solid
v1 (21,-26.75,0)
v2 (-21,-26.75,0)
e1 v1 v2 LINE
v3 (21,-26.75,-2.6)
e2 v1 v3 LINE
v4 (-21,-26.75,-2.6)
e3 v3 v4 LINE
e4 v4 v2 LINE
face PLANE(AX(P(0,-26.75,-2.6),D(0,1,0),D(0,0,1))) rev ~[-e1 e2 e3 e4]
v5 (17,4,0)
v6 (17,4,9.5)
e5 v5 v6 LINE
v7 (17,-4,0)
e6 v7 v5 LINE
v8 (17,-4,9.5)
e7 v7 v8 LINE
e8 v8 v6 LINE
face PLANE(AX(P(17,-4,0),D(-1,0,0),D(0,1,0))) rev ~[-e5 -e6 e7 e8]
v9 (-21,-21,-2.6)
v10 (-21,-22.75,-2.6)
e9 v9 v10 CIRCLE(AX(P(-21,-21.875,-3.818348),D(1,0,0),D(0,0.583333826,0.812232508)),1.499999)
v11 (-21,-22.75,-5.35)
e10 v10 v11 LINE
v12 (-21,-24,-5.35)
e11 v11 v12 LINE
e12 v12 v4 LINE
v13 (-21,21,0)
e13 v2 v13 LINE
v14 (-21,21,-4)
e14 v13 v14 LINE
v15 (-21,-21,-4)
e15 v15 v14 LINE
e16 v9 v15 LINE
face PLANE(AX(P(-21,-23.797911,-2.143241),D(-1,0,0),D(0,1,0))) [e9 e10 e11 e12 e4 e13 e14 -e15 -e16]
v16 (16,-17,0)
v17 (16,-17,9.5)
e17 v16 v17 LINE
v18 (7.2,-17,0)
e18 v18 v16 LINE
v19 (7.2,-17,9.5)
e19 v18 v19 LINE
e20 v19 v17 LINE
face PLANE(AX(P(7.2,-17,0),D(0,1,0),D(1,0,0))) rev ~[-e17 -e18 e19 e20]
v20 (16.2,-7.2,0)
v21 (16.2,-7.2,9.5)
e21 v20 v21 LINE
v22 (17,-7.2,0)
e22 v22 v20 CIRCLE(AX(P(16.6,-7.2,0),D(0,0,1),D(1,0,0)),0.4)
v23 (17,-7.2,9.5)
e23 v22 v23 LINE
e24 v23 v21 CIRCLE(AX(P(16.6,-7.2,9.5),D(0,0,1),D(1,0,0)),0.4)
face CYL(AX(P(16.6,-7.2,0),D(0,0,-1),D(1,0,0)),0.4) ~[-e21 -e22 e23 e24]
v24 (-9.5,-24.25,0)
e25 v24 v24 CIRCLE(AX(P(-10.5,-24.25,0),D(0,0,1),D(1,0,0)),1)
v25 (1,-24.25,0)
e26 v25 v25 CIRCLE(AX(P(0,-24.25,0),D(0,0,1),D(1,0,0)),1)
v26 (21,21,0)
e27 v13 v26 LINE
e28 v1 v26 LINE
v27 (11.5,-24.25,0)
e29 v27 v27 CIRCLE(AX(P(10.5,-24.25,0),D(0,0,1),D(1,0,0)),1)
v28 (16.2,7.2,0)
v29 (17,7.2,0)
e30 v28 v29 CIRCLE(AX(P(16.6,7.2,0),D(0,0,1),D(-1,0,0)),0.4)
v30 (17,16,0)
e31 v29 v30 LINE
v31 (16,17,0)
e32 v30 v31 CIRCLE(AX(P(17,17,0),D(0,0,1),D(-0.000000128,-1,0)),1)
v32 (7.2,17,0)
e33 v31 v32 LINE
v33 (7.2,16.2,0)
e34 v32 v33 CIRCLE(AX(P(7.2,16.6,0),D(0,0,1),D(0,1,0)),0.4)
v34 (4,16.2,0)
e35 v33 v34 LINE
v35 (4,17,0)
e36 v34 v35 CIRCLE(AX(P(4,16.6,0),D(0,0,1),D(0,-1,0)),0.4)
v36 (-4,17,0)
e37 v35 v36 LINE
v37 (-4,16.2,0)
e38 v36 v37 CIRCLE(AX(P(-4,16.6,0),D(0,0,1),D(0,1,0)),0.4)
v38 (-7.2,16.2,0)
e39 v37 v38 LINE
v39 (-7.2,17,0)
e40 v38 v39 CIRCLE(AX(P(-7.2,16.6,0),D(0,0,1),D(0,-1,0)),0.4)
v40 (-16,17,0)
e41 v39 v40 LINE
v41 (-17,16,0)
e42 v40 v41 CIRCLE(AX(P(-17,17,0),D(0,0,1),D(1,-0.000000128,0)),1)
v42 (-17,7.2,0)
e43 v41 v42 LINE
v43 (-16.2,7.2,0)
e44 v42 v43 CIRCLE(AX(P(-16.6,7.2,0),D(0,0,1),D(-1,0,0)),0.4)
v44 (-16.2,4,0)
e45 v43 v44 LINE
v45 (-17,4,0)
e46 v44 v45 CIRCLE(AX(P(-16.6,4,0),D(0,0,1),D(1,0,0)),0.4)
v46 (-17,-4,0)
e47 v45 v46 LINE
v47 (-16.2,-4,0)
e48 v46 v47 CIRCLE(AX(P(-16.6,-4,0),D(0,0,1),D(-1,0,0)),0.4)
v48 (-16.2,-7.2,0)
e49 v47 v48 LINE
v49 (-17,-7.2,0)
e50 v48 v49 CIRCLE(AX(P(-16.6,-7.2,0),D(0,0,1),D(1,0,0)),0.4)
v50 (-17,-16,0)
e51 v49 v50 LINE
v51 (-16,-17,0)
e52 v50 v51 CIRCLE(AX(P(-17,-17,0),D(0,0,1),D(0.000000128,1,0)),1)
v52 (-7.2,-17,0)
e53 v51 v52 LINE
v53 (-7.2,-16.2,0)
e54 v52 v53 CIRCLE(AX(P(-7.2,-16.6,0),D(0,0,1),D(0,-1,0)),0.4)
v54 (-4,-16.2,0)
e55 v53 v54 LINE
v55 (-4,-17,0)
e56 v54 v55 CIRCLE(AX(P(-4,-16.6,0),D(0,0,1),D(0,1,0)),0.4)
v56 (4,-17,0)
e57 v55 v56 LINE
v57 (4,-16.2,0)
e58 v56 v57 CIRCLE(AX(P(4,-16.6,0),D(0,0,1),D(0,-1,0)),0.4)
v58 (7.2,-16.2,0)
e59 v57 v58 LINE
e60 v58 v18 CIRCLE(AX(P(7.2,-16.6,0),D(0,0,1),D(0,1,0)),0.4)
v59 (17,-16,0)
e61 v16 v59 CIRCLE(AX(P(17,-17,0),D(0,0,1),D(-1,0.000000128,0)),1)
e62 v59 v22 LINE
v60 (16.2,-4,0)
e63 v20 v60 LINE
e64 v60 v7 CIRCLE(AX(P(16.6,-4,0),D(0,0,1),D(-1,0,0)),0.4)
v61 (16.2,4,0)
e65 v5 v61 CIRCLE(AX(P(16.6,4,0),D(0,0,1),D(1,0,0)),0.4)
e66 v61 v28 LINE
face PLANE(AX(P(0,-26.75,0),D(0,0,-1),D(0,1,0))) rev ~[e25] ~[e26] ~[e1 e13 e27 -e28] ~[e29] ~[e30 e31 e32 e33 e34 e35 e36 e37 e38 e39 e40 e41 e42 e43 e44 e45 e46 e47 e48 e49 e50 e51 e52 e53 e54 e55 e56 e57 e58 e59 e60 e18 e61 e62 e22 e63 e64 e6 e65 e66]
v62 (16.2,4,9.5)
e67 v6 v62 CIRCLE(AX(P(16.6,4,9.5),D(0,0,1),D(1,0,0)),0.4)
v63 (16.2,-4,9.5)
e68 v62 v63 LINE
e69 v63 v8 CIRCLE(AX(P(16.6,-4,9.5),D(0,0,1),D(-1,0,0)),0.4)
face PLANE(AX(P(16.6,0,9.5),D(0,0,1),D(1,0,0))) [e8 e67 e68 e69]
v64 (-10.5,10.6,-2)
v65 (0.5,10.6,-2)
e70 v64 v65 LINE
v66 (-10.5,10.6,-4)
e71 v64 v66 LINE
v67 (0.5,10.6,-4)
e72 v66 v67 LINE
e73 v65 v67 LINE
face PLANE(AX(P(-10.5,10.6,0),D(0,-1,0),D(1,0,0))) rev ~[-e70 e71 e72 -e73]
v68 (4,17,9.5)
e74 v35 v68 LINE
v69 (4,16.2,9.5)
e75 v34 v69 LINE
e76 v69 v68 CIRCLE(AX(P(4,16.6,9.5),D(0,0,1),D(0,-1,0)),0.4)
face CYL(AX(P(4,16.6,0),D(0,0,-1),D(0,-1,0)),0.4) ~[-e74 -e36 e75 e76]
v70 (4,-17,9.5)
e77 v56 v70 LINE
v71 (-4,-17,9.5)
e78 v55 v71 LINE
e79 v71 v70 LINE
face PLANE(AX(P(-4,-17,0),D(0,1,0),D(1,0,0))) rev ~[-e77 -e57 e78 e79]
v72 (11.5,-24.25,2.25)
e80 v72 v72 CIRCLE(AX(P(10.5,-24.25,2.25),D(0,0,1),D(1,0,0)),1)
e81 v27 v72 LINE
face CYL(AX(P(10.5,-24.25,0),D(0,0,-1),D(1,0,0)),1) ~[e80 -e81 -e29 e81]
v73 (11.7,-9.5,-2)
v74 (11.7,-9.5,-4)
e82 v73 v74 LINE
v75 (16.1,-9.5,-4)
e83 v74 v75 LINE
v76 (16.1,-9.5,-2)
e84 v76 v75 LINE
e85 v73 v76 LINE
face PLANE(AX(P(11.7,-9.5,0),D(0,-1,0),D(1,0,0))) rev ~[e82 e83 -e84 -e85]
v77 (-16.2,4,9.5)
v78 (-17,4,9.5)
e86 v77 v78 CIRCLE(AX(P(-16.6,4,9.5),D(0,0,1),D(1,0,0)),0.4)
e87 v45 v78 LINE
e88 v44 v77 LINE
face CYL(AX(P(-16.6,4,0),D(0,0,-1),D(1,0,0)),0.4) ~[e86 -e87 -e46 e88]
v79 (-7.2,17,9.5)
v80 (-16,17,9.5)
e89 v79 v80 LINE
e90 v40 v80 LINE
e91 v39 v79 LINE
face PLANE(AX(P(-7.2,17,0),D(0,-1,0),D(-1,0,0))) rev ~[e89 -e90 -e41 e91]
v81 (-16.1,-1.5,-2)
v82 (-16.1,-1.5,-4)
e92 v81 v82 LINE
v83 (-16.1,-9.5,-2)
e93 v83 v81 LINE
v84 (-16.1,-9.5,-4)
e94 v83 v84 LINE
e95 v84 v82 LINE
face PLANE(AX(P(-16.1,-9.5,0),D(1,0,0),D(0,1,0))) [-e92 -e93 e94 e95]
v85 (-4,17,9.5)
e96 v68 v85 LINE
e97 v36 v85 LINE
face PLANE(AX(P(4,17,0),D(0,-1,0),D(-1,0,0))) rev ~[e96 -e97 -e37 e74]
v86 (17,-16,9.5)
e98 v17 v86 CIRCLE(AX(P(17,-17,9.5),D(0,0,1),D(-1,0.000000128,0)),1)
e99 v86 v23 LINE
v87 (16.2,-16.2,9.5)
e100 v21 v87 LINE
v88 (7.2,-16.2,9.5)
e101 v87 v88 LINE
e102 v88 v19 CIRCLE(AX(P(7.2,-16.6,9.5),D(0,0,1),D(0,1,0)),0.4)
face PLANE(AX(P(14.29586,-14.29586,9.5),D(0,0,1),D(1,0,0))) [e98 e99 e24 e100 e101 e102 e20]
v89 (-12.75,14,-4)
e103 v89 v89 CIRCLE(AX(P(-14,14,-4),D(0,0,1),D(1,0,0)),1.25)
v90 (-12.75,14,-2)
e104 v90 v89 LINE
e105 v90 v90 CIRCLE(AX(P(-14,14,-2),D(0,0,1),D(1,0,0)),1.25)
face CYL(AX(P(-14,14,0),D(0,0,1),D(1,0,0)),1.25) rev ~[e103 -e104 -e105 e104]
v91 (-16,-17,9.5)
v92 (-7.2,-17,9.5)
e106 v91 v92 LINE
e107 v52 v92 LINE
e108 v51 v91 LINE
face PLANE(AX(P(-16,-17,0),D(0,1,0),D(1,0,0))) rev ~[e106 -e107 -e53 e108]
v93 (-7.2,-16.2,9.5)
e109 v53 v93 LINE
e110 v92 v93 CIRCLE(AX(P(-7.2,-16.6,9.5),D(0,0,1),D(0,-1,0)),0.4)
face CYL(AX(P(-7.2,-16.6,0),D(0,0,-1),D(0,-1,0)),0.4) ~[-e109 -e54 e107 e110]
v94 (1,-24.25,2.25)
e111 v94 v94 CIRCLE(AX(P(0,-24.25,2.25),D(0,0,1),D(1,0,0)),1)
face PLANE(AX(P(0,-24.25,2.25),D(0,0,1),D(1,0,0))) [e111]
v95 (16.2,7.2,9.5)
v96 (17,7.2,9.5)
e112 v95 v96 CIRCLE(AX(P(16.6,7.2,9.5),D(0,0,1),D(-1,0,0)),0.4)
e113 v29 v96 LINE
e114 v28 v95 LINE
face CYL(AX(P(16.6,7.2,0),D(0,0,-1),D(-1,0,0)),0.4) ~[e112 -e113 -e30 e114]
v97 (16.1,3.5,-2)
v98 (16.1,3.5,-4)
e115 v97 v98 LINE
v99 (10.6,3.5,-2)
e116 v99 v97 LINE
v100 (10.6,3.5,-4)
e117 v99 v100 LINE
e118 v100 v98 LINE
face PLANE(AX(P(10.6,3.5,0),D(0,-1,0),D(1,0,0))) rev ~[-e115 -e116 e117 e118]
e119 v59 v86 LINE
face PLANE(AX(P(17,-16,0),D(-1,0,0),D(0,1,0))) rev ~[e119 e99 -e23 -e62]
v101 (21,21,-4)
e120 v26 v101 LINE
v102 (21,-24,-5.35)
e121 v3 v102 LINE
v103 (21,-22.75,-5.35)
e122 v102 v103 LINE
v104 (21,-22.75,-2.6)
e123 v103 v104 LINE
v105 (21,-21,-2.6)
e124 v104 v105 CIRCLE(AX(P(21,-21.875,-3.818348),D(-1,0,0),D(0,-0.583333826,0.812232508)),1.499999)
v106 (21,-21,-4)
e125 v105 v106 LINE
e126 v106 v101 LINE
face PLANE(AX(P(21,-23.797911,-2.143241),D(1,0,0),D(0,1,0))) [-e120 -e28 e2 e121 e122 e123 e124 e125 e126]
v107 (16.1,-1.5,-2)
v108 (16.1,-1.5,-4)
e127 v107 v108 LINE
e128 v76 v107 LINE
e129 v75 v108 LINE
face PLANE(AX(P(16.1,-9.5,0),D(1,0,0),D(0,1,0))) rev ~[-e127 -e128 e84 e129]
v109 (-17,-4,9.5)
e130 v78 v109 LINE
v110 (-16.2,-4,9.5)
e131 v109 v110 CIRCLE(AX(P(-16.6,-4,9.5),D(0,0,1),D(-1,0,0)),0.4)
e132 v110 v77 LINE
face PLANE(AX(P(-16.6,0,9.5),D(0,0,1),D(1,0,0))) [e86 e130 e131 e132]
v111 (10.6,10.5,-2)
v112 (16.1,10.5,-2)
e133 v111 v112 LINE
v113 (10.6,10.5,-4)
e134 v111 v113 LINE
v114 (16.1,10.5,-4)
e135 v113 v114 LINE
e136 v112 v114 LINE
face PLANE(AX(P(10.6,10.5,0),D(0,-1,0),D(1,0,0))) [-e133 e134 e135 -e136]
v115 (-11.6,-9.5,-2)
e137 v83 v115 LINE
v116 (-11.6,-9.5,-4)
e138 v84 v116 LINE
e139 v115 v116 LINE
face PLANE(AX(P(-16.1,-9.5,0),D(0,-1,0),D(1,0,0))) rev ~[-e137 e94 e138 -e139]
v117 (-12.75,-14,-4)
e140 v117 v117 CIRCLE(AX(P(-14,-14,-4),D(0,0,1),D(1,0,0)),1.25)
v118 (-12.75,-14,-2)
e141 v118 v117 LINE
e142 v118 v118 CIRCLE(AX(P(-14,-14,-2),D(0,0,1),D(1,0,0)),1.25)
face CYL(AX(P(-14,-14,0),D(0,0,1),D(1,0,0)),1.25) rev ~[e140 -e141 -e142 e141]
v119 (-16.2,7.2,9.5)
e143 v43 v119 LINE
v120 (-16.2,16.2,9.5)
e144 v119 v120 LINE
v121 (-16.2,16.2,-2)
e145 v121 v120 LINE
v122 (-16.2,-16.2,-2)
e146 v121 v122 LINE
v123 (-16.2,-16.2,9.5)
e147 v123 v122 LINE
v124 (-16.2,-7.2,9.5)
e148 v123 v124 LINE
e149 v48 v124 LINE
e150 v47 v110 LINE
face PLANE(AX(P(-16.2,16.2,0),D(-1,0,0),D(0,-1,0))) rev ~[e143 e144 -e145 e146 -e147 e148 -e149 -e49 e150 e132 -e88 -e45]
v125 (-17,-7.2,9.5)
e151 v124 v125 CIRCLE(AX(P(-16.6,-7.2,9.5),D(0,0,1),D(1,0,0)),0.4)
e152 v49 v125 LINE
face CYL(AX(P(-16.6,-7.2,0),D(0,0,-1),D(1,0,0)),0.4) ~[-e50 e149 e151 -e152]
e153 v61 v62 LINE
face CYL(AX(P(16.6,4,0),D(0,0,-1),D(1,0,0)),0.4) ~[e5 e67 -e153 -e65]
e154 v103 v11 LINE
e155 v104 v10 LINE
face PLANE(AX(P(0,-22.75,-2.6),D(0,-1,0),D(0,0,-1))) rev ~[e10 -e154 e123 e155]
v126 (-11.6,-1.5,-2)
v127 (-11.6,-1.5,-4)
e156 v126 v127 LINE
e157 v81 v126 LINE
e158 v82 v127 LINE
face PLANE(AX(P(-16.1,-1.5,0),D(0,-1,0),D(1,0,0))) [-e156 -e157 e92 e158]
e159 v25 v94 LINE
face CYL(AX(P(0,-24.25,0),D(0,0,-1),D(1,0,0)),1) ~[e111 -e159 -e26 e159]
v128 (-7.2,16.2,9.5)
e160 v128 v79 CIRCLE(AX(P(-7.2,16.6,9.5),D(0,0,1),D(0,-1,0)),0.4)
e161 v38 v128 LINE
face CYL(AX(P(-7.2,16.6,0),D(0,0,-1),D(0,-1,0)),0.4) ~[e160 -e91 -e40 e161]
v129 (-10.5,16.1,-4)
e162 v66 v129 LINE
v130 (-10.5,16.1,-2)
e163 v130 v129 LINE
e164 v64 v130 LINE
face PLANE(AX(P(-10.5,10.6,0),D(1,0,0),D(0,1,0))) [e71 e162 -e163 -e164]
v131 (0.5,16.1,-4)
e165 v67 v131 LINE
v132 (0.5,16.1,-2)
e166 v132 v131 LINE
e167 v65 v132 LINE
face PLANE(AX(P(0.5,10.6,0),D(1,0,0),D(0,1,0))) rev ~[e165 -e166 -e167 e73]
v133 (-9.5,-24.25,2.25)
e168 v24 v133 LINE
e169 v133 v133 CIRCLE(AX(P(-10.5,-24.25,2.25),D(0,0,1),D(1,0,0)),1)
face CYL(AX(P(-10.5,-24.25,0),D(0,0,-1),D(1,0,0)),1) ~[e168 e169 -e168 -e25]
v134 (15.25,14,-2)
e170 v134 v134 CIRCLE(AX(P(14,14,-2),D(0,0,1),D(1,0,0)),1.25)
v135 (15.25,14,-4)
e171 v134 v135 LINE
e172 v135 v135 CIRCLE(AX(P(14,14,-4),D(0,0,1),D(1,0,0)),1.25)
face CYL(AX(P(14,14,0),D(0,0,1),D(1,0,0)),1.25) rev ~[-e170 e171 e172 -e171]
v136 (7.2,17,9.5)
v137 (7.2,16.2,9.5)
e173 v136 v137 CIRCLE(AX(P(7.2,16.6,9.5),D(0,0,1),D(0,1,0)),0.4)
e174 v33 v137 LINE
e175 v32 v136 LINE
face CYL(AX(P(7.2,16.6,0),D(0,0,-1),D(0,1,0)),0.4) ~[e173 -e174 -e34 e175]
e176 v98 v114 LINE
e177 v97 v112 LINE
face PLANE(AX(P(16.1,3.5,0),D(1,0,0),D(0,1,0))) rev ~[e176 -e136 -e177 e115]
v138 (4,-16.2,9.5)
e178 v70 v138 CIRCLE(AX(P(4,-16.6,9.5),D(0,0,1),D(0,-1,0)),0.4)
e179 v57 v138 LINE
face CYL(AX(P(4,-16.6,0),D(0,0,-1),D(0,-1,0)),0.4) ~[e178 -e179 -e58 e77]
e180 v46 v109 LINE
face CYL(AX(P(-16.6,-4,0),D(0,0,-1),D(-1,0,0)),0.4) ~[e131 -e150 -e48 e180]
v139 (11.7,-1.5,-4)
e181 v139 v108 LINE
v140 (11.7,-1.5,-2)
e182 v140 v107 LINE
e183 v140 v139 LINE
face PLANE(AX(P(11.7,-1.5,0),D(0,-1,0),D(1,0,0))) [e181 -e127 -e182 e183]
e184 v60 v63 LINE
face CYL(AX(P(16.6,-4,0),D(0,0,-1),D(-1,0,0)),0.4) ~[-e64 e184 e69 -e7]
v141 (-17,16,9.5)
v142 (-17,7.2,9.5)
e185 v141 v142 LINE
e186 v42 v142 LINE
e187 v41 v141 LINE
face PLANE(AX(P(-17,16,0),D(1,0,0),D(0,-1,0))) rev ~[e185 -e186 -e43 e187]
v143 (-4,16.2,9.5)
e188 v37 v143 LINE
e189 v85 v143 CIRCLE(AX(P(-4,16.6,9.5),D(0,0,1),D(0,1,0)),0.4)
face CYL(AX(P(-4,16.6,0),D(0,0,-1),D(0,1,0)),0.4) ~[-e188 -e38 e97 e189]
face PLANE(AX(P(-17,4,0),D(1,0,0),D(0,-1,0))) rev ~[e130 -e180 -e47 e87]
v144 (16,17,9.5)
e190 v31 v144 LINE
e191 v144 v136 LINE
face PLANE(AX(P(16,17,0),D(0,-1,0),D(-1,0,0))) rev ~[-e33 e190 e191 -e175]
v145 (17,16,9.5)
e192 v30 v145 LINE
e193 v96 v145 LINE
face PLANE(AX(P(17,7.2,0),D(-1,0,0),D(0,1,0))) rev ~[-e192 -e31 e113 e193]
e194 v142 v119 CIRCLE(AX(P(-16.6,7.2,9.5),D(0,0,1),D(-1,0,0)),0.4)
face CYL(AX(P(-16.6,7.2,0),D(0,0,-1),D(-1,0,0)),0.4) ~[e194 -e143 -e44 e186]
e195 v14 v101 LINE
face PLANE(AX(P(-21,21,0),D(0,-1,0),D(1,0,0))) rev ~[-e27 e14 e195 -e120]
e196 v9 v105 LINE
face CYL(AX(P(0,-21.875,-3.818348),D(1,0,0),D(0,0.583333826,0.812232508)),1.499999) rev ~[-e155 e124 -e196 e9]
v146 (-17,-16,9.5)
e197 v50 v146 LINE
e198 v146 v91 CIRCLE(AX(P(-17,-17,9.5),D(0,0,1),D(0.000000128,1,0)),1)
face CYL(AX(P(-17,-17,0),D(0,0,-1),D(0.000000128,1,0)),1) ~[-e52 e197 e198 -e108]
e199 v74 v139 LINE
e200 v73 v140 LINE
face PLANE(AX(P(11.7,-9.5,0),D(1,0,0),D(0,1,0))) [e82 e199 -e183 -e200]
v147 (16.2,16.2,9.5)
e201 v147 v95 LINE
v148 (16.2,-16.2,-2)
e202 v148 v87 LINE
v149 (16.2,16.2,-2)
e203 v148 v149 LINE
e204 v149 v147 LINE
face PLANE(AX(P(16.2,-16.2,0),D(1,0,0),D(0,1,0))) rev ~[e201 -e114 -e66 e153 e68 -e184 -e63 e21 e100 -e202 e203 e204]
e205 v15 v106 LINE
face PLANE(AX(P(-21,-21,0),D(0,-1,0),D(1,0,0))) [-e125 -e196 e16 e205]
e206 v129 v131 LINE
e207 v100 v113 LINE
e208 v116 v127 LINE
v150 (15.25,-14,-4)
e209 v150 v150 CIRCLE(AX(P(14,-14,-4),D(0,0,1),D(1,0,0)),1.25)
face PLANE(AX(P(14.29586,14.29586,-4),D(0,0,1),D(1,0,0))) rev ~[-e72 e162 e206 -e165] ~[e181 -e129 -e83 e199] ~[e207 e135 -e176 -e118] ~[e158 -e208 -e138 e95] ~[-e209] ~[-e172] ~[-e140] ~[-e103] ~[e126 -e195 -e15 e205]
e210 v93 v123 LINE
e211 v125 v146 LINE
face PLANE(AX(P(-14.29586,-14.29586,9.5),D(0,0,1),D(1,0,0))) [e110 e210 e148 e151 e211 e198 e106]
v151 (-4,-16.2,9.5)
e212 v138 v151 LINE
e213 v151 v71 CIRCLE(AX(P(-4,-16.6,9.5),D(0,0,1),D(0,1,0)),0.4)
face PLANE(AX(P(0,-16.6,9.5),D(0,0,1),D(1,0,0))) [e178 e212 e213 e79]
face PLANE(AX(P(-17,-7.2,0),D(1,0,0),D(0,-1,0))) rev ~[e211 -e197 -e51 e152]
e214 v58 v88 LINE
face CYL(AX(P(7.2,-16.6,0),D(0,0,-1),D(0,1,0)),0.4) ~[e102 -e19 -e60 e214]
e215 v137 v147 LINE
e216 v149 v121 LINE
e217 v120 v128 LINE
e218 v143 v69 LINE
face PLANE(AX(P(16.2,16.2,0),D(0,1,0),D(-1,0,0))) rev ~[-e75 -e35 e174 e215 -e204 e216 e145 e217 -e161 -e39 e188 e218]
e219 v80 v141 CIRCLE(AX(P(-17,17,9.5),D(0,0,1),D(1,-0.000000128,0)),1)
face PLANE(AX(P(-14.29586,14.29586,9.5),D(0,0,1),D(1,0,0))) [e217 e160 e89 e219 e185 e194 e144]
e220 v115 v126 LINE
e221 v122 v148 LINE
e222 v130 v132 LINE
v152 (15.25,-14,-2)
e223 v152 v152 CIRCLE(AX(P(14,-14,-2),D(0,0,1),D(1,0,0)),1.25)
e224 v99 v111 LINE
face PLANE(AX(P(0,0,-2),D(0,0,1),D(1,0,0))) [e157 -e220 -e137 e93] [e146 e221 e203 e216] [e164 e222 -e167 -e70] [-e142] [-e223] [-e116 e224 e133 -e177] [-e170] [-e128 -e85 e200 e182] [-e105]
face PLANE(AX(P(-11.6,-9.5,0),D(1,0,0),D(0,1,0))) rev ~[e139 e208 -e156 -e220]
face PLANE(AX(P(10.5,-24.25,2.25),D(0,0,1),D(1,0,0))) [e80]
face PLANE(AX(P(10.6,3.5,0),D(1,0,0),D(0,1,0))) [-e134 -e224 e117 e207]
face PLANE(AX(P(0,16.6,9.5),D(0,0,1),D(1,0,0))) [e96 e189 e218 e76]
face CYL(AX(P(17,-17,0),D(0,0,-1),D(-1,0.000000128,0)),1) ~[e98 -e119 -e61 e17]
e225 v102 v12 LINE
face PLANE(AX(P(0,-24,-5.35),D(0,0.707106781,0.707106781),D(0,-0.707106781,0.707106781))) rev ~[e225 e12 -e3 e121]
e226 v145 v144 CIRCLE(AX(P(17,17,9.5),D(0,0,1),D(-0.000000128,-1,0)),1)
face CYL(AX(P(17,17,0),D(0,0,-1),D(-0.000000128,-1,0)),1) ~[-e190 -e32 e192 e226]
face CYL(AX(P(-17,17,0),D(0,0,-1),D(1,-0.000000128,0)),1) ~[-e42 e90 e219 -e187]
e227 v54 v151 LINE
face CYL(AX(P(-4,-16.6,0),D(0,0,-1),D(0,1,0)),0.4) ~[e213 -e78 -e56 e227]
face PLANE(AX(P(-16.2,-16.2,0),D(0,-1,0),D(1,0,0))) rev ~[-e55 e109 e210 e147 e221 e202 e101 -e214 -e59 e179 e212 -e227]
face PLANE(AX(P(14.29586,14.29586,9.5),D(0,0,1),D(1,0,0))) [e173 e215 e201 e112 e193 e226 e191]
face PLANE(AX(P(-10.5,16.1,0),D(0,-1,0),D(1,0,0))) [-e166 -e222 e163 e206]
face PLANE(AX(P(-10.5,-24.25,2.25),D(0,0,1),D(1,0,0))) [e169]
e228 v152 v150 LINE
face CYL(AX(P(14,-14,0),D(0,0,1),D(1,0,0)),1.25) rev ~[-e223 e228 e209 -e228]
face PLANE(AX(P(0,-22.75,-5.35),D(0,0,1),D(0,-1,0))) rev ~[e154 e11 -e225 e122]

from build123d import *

# Parameters (mm, degrees)
F0_W     = 42
F0_H     = 42
F0_R     = 1.25
F0_W_2   = 4.5
F0_H_2   = 8
F0_W_3   = 4.4
F0_W_4   = 11
F0_H_3   = 5.5
F0_W_5   = 5.5
F0_H_4   = 7
F2_DEPTH = 4
F3_DEPTH = 21
F4_DEPTH = 21
F5_DEPTH = 9.5
F6_R     = 1
F7_DEPTH = 2.25
F8_DEPTH = 2


with BuildPart() as f2:
    # F0 (on Top) → F2 (new body)
    with BuildSketch(Plane.XY):
        Rectangle(F0_W, F0_H)
        with BuildLine():
            ThreePointArc((16.2, 4), (16.6, 4.4), (17, 4))
            Line((17, 4), (17, -4))
            ThreePointArc((17, -4), (16.6, -4.4), (16.2, -4))
            Line((16.2, -4), (16.2, -7.2))
            ThreePointArc((16.2, -7.2), (16.6, -6.8), (17, -7.2))
            Line((17, -7.2), (17, -16))
            ThreePointArc((17, -16), (17.707107, -17.707107), (16, -17))
            Line((16, -17), (7.2, -17))
            ThreePointArc((7.2, -17), (6.8, -16.6), (7.2, -16.2))
            Line((7.2, -16.2), (4, -16.2))
            ThreePointArc((4, -16.2), (4.4, -16.6), (4, -17))
            Line((4, -17), (-4, -17))
            ThreePointArc((-4, -17), (-4.4, -16.6), (-4, -16.2))
            Line((-4, -16.2), (-7.2, -16.2))
            ThreePointArc((-7.2, -16.2), (-6.8, -16.6), (-7.2, -17))
            Line((-7.2, -17), (-16, -17))
            ThreePointArc((-16, -17), (-17.707107, -17.707107), (-17, -16))
            Line((-17, -16), (-17, -7.2))
            ThreePointArc((-17, -7.2), (-16.6, -6.8), (-16.2, -7.2))
            Line((-16.2, -7.2), (-16.2, -4))
            ThreePointArc((-16.2, -4), (-16.6, -4.4), (-17, -4))
            Line((-17, -4), (-17, 4))
            ThreePointArc((-17, 4), (-16.6, 4.4), (-16.2, 4))
            Line((-16.2, 4), (-16.2, 7.2))
            ThreePointArc((-16.2, 7.2), (-16.6, 6.8), (-17, 7.2))
            Line((-17, 7.2), (-17, 16))
            ThreePointArc((-17, 16), (-17.707107, 17.707107), (-16, 17))
            Line((-16, 17), (-7.2, 17))
            ThreePointArc((-7.2, 17), (-6.8, 16.6), (-7.2, 16.2))
            Line((-7.2, 16.2), (-4, 16.2))
            ThreePointArc((-4, 16.2), (-4.4, 16.6), (-4, 17))
            Line((-4, 17), (4, 17))
            ThreePointArc((4, 17), (4.4, 16.6), (4, 16.2))
            Line((4, 16.2), (7.2, 16.2))
            ThreePointArc((7.2, 16.2), (6.8, 16.6), (7.2, 17))
            Line((7.2, 17), (16, 17))
            ThreePointArc((16, 17), (17.707107, 17.707107), (17, 16))
            Line((17, 16), (17, 7.2))
            ThreePointArc((17, 7.2), (16.6, 6.8), (16.2, 7.2))
            Line((16.2, 7.2), (16.2, 4))
        make_face(mode=Mode.SUBTRACT)
        with BuildLine():
            Line((-4, 16.2), (4, 16.2))
            ThreePointArc((4, 16.2), (4.4, 16.6), (4, 17))
            Line((4, 17), (-4, 17))
            ThreePointArc((-4, 17), (-4.4, 16.6), (-4, 16.2))
        make_face()
        with BuildLine():
            Line((16.2, 16.2), (16.2, 7.2))
            ThreePointArc((16.2, 7.2), (16.6, 6.8), (17, 7.2))
            Line((17, 7.2), (17, 16))
            ThreePointArc((17, 16), (17.707107, 17.707107), (16, 17))
            Line((16, 17), (7.2, 17))
            ThreePointArc((7.2, 17), (6.8, 16.6), (7.2, 16.2))
            Line((7.2, 16.2), (16.2, 16.2))
        make_face()
        with BuildLine():
            Line((-16.2, 16.2), (-7.2, 16.2))
            ThreePointArc((-7.2, 16.2), (-6.8, 16.6), (-7.2, 17))
            Line((-7.2, 17), (-16, 17))
            ThreePointArc((-16, 17), (-17.707107, 17.707107), (-17, 16))
            Line((-17, 16), (-17, 7.2))
            ThreePointArc((-17, 7.2), (-16.6, 6.8), (-16.2, 7.2))
            Line((-16.2, 7.2), (-16.2, 16.2))
        make_face()
        with BuildLine():
            Line((-16.2, -4), (-16.2, 4))
            ThreePointArc((-16.2, 4), (-16.6, 4.4), (-17, 4))
            Line((-17, 4), (-17, -4))
            ThreePointArc((-17, -4), (-16.6, -4.4), (-16.2, -4))
        make_face()
        with BuildLine():
            Line((17, -4), (17, 4))
            ThreePointArc((17, 4), (16.6, 4.4), (16.2, 4))
            Line((16.2, 4), (16.2, -4))
            ThreePointArc((16.2, -4), (16.6, -4.4), (17, -4))
        make_face()
        with BuildLine():
            ThreePointArc((17, -7.2), (16.6, -6.8), (16.2, -7.2))
            Line((16.2, -7.2), (16.2, -16.2))
            Line((16.2, -16.2), (7.2, -16.2))
            ThreePointArc((7.2, -16.2), (6.8, -16.6), (7.2, -17))
            Line((7.2, -17), (16, -17))
            ThreePointArc((16, -17), (17.707107, -17.707107), (17, -16))
            Line((17, -16), (17, -7.2))
        make_face()
        with BuildLine():
            ThreePointArc((-7.2, -17), (-6.8, -16.6), (-7.2, -16.2))
            Line((-7.2, -16.2), (-16.2, -16.2))
            Line((-16.2, -16.2), (-16.2, -7.2))
            ThreePointArc((-16.2, -7.2), (-16.6, -6.8), (-17, -7.2))
            Line((-17, -7.2), (-17, -16))
            ThreePointArc((-17, -16), (-17.707107, -17.707107), (-16, -17))
            Line((-16, -17), (-7.2, -17))
        make_face()
        with BuildLine():
            ThreePointArc((4, -17), (4.4, -16.6), (4, -16.2))
            Line((4, -16.2), (-4, -16.2))
            ThreePointArc((-4, -16.2), (-4.4, -16.6), (-4, -17))
            Line((-4, -17), (4, -17))
        make_face()
        Polygon((16.2, -4), (16.2, 4), (16.2, 7.2), (16.2, 16.2), (7.2, 16.2), (4, 16.2), (-4, 16.2), (-7.2, 16.2), (-16.2, 16.2), (-16.2, 7.2), (-16.2, 4), (-16.2, -4), (-16.2, -7.2), (-16.2, -16.2), (-7.2, -16.2), (-4, -16.2), (4, -16.2), (7.2, -16.2), (16.2, -16.2), (16.2, -7.2), align=None)
        with Locations((-14, -14)):
            Circle(F0_R, mode=Mode.SUBTRACT)
        with Locations((-13.85, -5.5)):
            Rectangle(F0_W_2, F0_H_2, mode=Mode.SUBTRACT)
        with Locations((14, -14)):
            Circle(F0_R, mode=Mode.SUBTRACT)
        with Locations((13.9, -5.5)):
            Rectangle(F0_W_3, F0_H_2, mode=Mode.SUBTRACT)
        with Locations((-14, 14)):
            Circle(F0_R, mode=Mode.SUBTRACT)
        with Locations((-5, 13.35)):
            Rectangle(F0_W_4, F0_H_3, mode=Mode.SUBTRACT)
        with Locations((13.35, 7)):
            Rectangle(F0_W_5, F0_H_4, mode=Mode.SUBTRACT)
        with Locations((14, 14)):
            Circle(F0_R, mode=Mode.SUBTRACT)
    extrude(amount=-F2_DEPTH)

    # F1 (on Right) → F3 (join)
    with BuildSketch(Plane.YZ):
        with BuildLine():
            Line((-21, -2.6), (-21, 0))
            Line((-21, 0), (-22.75, 0))
            Line((-22.75, 0), (-26.75, 0))
            Line((-26.75, 0), (-26.75, -2.6))
            Line((-26.75, -2.6), (-24, -5.35))
            Line((-24, -5.35), (-22.75, -5.35))
            Line((-22.75, -5.35), (-22.75, -2.6))
            ThreePointArc((-22.75, -2.6), (-21.875, -2.318349), (-21, -2.6))
        make_face()
    extrude(amount=F3_DEPTH)

    # F3_face (on face) → F4 (join)
    with BuildSketch(Plane(origin=(0, -24.007396, -2.086833), x_dir=(0, 1, 0), z_dir=(-1, 0, 0))):
        with BuildLine():
            Line((3.007396, -2.086833), (3.007396, 0.513167))
            ThreePointArc((3.007396, 0.513167), (2.132396, 0.231516), (1.257396, 0.513167))
            Line((1.257396, 0.513167), (1.257396, 3.263167))
            Line((1.257396, 3.263167), (0.007396, 3.263167))
            Line((0.007396, 3.263167), (-2.742604, 0.513167))
            Line((-2.742604, 0.513167), (-2.742604, -2.086833))
            Line((-2.742604, -2.086833), (3.007396, -2.086833))
        make_face()
    extrude(amount=F4_DEPTH)

    # F0 (on Top) → F5 (join)
    with BuildSketch(Plane.XY):
        with BuildLine():
            Line((-16.2, 16.2), (-7.2, 16.2))
            ThreePointArc((-7.2, 16.2), (-6.8, 16.6), (-7.2, 17))
            Line((-7.2, 17), (-16, 17))
            ThreePointArc((-16, 17), (-17.707107, 17.707107), (-17, 16))
            Line((-17, 16), (-17, 7.2))
            ThreePointArc((-17, 7.2), (-16.6, 6.8), (-16.2, 7.2))
            Line((-16.2, 7.2), (-16.2, 16.2))
        make_face()
        with BuildLine():
            Line((-16.2, -4), (-16.2, 4))
            ThreePointArc((-16.2, 4), (-16.6, 4.4), (-17, 4))
            Line((-17, 4), (-17, -4))
            ThreePointArc((-17, -4), (-16.6, -4.4), (-16.2, -4))
        make_face()
        with BuildLine():
            ThreePointArc((-7.2, -17), (-6.8, -16.6), (-7.2, -16.2))
            Line((-7.2, -16.2), (-16.2, -16.2))
            Line((-16.2, -16.2), (-16.2, -7.2))
            ThreePointArc((-16.2, -7.2), (-16.6, -6.8), (-17, -7.2))
            Line((-17, -7.2), (-17, -16))
            ThreePointArc((-17, -16), (-17.707107, -17.707107), (-16, -17))
            Line((-16, -17), (-7.2, -17))
        make_face()
        with BuildLine():
            Line((-4, 16.2), (4, 16.2))
            ThreePointArc((4, 16.2), (4.4, 16.6), (4, 17))
            Line((4, 17), (-4, 17))
            ThreePointArc((-4, 17), (-4.4, 16.6), (-4, 16.2))
        make_face()
        with BuildLine():
            Line((16.2, 16.2), (16.2, 7.2))
            ThreePointArc((16.2, 7.2), (16.6, 6.8), (17, 7.2))
            Line((17, 7.2), (17, 16))
            ThreePointArc((17, 16), (17.707107, 17.707107), (16, 17))
            Line((16, 17), (7.2, 17))
            ThreePointArc((7.2, 17), (6.8, 16.6), (7.2, 16.2))
            Line((7.2, 16.2), (16.2, 16.2))
        make_face()
        with BuildLine():
            Line((17, -4), (17, 4))
            ThreePointArc((17, 4), (16.6, 4.4), (16.2, 4))
            Line((16.2, 4), (16.2, -4))
            ThreePointArc((16.2, -4), (16.6, -4.4), (17, -4))
        make_face()
        with BuildLine():
            ThreePointArc((4, -17), (4.4, -16.6), (4, -16.2))
            Line((4, -16.2), (-4, -16.2))
            ThreePointArc((-4, -16.2), (-4.4, -16.6), (-4, -17))
            Line((-4, -17), (4, -17))
        make_face()
        with BuildLine():
            ThreePointArc((17, -7.2), (16.6, -6.8), (16.2, -7.2))
            Line((16.2, -7.2), (16.2, -16.2))
            Line((16.2, -16.2), (7.2, -16.2))
            ThreePointArc((7.2, -16.2), (6.8, -16.6), (7.2, -17))
            Line((7.2, -17), (16, -17))
            ThreePointArc((16, -17), (17.707107, -17.707107), (17, -16))
            Line((17, -16), (17, -7.2))
        make_face()
    extrude(amount=F5_DEPTH)

    # F6 (on face) → F7 (join)
    with BuildSketch(Plane.XY):
        with Locations((-10.5, -24.25)):
            Circle(F6_R)
        with Locations((0, -24.25)):
            Circle(F6_R)
        with Locations((10.5, -24.25)):
            Circle(F6_R)
    extrude(amount=F7_DEPTH)

    # F0 (on Top) → F8 (cut)
    with BuildSketch(Plane.XY):
        Polygon((16.2, -4), (16.2, 4), (16.2, 7.2), (16.2, 16.2), (7.2, 16.2), (4, 16.2), (-4, 16.2), (-7.2, 16.2), (-16.2, 16.2), (-16.2, 7.2), (-16.2, 4), (-16.2, -4), (-16.2, -7.2), (-16.2, -16.2), (-7.2, -16.2), (-4, -16.2), (4, -16.2), (7.2, -16.2), (16.2, -16.2), (16.2, -7.2), align=None)
        with Locations((-14, -14)):
            Circle(F0_R, mode=Mode.SUBTRACT)
        with Locations((-13.85, -5.5)):
            Rectangle(F0_W_2, F0_H_2, mode=Mode.SUBTRACT)
        with Locations((14, -14)):
            Circle(F0_R, mode=Mode.SUBTRACT)
        with Locations((13.9, -5.5)):
            Rectangle(F0_W_3, F0_H_2, mode=Mode.SUBTRACT)
        with Locations((-14, 14)):
            Circle(F0_R, mode=Mode.SUBTRACT)
        with Locations((-5, 13.35)):
            Rectangle(F0_W_4, F0_H_3, mode=Mode.SUBTRACT)
        with Locations((13.35, 7)):
            Rectangle(F0_W_5, F0_H_4, mode=Mode.SUBTRACT)
        with Locations((14, 14)):
            Circle(F0_R, mode=Mode.SUBTRACT)
    extrude(amount=-F8_DEPTH, mode=Mode.SUBTRACT)


solid = f2.part
